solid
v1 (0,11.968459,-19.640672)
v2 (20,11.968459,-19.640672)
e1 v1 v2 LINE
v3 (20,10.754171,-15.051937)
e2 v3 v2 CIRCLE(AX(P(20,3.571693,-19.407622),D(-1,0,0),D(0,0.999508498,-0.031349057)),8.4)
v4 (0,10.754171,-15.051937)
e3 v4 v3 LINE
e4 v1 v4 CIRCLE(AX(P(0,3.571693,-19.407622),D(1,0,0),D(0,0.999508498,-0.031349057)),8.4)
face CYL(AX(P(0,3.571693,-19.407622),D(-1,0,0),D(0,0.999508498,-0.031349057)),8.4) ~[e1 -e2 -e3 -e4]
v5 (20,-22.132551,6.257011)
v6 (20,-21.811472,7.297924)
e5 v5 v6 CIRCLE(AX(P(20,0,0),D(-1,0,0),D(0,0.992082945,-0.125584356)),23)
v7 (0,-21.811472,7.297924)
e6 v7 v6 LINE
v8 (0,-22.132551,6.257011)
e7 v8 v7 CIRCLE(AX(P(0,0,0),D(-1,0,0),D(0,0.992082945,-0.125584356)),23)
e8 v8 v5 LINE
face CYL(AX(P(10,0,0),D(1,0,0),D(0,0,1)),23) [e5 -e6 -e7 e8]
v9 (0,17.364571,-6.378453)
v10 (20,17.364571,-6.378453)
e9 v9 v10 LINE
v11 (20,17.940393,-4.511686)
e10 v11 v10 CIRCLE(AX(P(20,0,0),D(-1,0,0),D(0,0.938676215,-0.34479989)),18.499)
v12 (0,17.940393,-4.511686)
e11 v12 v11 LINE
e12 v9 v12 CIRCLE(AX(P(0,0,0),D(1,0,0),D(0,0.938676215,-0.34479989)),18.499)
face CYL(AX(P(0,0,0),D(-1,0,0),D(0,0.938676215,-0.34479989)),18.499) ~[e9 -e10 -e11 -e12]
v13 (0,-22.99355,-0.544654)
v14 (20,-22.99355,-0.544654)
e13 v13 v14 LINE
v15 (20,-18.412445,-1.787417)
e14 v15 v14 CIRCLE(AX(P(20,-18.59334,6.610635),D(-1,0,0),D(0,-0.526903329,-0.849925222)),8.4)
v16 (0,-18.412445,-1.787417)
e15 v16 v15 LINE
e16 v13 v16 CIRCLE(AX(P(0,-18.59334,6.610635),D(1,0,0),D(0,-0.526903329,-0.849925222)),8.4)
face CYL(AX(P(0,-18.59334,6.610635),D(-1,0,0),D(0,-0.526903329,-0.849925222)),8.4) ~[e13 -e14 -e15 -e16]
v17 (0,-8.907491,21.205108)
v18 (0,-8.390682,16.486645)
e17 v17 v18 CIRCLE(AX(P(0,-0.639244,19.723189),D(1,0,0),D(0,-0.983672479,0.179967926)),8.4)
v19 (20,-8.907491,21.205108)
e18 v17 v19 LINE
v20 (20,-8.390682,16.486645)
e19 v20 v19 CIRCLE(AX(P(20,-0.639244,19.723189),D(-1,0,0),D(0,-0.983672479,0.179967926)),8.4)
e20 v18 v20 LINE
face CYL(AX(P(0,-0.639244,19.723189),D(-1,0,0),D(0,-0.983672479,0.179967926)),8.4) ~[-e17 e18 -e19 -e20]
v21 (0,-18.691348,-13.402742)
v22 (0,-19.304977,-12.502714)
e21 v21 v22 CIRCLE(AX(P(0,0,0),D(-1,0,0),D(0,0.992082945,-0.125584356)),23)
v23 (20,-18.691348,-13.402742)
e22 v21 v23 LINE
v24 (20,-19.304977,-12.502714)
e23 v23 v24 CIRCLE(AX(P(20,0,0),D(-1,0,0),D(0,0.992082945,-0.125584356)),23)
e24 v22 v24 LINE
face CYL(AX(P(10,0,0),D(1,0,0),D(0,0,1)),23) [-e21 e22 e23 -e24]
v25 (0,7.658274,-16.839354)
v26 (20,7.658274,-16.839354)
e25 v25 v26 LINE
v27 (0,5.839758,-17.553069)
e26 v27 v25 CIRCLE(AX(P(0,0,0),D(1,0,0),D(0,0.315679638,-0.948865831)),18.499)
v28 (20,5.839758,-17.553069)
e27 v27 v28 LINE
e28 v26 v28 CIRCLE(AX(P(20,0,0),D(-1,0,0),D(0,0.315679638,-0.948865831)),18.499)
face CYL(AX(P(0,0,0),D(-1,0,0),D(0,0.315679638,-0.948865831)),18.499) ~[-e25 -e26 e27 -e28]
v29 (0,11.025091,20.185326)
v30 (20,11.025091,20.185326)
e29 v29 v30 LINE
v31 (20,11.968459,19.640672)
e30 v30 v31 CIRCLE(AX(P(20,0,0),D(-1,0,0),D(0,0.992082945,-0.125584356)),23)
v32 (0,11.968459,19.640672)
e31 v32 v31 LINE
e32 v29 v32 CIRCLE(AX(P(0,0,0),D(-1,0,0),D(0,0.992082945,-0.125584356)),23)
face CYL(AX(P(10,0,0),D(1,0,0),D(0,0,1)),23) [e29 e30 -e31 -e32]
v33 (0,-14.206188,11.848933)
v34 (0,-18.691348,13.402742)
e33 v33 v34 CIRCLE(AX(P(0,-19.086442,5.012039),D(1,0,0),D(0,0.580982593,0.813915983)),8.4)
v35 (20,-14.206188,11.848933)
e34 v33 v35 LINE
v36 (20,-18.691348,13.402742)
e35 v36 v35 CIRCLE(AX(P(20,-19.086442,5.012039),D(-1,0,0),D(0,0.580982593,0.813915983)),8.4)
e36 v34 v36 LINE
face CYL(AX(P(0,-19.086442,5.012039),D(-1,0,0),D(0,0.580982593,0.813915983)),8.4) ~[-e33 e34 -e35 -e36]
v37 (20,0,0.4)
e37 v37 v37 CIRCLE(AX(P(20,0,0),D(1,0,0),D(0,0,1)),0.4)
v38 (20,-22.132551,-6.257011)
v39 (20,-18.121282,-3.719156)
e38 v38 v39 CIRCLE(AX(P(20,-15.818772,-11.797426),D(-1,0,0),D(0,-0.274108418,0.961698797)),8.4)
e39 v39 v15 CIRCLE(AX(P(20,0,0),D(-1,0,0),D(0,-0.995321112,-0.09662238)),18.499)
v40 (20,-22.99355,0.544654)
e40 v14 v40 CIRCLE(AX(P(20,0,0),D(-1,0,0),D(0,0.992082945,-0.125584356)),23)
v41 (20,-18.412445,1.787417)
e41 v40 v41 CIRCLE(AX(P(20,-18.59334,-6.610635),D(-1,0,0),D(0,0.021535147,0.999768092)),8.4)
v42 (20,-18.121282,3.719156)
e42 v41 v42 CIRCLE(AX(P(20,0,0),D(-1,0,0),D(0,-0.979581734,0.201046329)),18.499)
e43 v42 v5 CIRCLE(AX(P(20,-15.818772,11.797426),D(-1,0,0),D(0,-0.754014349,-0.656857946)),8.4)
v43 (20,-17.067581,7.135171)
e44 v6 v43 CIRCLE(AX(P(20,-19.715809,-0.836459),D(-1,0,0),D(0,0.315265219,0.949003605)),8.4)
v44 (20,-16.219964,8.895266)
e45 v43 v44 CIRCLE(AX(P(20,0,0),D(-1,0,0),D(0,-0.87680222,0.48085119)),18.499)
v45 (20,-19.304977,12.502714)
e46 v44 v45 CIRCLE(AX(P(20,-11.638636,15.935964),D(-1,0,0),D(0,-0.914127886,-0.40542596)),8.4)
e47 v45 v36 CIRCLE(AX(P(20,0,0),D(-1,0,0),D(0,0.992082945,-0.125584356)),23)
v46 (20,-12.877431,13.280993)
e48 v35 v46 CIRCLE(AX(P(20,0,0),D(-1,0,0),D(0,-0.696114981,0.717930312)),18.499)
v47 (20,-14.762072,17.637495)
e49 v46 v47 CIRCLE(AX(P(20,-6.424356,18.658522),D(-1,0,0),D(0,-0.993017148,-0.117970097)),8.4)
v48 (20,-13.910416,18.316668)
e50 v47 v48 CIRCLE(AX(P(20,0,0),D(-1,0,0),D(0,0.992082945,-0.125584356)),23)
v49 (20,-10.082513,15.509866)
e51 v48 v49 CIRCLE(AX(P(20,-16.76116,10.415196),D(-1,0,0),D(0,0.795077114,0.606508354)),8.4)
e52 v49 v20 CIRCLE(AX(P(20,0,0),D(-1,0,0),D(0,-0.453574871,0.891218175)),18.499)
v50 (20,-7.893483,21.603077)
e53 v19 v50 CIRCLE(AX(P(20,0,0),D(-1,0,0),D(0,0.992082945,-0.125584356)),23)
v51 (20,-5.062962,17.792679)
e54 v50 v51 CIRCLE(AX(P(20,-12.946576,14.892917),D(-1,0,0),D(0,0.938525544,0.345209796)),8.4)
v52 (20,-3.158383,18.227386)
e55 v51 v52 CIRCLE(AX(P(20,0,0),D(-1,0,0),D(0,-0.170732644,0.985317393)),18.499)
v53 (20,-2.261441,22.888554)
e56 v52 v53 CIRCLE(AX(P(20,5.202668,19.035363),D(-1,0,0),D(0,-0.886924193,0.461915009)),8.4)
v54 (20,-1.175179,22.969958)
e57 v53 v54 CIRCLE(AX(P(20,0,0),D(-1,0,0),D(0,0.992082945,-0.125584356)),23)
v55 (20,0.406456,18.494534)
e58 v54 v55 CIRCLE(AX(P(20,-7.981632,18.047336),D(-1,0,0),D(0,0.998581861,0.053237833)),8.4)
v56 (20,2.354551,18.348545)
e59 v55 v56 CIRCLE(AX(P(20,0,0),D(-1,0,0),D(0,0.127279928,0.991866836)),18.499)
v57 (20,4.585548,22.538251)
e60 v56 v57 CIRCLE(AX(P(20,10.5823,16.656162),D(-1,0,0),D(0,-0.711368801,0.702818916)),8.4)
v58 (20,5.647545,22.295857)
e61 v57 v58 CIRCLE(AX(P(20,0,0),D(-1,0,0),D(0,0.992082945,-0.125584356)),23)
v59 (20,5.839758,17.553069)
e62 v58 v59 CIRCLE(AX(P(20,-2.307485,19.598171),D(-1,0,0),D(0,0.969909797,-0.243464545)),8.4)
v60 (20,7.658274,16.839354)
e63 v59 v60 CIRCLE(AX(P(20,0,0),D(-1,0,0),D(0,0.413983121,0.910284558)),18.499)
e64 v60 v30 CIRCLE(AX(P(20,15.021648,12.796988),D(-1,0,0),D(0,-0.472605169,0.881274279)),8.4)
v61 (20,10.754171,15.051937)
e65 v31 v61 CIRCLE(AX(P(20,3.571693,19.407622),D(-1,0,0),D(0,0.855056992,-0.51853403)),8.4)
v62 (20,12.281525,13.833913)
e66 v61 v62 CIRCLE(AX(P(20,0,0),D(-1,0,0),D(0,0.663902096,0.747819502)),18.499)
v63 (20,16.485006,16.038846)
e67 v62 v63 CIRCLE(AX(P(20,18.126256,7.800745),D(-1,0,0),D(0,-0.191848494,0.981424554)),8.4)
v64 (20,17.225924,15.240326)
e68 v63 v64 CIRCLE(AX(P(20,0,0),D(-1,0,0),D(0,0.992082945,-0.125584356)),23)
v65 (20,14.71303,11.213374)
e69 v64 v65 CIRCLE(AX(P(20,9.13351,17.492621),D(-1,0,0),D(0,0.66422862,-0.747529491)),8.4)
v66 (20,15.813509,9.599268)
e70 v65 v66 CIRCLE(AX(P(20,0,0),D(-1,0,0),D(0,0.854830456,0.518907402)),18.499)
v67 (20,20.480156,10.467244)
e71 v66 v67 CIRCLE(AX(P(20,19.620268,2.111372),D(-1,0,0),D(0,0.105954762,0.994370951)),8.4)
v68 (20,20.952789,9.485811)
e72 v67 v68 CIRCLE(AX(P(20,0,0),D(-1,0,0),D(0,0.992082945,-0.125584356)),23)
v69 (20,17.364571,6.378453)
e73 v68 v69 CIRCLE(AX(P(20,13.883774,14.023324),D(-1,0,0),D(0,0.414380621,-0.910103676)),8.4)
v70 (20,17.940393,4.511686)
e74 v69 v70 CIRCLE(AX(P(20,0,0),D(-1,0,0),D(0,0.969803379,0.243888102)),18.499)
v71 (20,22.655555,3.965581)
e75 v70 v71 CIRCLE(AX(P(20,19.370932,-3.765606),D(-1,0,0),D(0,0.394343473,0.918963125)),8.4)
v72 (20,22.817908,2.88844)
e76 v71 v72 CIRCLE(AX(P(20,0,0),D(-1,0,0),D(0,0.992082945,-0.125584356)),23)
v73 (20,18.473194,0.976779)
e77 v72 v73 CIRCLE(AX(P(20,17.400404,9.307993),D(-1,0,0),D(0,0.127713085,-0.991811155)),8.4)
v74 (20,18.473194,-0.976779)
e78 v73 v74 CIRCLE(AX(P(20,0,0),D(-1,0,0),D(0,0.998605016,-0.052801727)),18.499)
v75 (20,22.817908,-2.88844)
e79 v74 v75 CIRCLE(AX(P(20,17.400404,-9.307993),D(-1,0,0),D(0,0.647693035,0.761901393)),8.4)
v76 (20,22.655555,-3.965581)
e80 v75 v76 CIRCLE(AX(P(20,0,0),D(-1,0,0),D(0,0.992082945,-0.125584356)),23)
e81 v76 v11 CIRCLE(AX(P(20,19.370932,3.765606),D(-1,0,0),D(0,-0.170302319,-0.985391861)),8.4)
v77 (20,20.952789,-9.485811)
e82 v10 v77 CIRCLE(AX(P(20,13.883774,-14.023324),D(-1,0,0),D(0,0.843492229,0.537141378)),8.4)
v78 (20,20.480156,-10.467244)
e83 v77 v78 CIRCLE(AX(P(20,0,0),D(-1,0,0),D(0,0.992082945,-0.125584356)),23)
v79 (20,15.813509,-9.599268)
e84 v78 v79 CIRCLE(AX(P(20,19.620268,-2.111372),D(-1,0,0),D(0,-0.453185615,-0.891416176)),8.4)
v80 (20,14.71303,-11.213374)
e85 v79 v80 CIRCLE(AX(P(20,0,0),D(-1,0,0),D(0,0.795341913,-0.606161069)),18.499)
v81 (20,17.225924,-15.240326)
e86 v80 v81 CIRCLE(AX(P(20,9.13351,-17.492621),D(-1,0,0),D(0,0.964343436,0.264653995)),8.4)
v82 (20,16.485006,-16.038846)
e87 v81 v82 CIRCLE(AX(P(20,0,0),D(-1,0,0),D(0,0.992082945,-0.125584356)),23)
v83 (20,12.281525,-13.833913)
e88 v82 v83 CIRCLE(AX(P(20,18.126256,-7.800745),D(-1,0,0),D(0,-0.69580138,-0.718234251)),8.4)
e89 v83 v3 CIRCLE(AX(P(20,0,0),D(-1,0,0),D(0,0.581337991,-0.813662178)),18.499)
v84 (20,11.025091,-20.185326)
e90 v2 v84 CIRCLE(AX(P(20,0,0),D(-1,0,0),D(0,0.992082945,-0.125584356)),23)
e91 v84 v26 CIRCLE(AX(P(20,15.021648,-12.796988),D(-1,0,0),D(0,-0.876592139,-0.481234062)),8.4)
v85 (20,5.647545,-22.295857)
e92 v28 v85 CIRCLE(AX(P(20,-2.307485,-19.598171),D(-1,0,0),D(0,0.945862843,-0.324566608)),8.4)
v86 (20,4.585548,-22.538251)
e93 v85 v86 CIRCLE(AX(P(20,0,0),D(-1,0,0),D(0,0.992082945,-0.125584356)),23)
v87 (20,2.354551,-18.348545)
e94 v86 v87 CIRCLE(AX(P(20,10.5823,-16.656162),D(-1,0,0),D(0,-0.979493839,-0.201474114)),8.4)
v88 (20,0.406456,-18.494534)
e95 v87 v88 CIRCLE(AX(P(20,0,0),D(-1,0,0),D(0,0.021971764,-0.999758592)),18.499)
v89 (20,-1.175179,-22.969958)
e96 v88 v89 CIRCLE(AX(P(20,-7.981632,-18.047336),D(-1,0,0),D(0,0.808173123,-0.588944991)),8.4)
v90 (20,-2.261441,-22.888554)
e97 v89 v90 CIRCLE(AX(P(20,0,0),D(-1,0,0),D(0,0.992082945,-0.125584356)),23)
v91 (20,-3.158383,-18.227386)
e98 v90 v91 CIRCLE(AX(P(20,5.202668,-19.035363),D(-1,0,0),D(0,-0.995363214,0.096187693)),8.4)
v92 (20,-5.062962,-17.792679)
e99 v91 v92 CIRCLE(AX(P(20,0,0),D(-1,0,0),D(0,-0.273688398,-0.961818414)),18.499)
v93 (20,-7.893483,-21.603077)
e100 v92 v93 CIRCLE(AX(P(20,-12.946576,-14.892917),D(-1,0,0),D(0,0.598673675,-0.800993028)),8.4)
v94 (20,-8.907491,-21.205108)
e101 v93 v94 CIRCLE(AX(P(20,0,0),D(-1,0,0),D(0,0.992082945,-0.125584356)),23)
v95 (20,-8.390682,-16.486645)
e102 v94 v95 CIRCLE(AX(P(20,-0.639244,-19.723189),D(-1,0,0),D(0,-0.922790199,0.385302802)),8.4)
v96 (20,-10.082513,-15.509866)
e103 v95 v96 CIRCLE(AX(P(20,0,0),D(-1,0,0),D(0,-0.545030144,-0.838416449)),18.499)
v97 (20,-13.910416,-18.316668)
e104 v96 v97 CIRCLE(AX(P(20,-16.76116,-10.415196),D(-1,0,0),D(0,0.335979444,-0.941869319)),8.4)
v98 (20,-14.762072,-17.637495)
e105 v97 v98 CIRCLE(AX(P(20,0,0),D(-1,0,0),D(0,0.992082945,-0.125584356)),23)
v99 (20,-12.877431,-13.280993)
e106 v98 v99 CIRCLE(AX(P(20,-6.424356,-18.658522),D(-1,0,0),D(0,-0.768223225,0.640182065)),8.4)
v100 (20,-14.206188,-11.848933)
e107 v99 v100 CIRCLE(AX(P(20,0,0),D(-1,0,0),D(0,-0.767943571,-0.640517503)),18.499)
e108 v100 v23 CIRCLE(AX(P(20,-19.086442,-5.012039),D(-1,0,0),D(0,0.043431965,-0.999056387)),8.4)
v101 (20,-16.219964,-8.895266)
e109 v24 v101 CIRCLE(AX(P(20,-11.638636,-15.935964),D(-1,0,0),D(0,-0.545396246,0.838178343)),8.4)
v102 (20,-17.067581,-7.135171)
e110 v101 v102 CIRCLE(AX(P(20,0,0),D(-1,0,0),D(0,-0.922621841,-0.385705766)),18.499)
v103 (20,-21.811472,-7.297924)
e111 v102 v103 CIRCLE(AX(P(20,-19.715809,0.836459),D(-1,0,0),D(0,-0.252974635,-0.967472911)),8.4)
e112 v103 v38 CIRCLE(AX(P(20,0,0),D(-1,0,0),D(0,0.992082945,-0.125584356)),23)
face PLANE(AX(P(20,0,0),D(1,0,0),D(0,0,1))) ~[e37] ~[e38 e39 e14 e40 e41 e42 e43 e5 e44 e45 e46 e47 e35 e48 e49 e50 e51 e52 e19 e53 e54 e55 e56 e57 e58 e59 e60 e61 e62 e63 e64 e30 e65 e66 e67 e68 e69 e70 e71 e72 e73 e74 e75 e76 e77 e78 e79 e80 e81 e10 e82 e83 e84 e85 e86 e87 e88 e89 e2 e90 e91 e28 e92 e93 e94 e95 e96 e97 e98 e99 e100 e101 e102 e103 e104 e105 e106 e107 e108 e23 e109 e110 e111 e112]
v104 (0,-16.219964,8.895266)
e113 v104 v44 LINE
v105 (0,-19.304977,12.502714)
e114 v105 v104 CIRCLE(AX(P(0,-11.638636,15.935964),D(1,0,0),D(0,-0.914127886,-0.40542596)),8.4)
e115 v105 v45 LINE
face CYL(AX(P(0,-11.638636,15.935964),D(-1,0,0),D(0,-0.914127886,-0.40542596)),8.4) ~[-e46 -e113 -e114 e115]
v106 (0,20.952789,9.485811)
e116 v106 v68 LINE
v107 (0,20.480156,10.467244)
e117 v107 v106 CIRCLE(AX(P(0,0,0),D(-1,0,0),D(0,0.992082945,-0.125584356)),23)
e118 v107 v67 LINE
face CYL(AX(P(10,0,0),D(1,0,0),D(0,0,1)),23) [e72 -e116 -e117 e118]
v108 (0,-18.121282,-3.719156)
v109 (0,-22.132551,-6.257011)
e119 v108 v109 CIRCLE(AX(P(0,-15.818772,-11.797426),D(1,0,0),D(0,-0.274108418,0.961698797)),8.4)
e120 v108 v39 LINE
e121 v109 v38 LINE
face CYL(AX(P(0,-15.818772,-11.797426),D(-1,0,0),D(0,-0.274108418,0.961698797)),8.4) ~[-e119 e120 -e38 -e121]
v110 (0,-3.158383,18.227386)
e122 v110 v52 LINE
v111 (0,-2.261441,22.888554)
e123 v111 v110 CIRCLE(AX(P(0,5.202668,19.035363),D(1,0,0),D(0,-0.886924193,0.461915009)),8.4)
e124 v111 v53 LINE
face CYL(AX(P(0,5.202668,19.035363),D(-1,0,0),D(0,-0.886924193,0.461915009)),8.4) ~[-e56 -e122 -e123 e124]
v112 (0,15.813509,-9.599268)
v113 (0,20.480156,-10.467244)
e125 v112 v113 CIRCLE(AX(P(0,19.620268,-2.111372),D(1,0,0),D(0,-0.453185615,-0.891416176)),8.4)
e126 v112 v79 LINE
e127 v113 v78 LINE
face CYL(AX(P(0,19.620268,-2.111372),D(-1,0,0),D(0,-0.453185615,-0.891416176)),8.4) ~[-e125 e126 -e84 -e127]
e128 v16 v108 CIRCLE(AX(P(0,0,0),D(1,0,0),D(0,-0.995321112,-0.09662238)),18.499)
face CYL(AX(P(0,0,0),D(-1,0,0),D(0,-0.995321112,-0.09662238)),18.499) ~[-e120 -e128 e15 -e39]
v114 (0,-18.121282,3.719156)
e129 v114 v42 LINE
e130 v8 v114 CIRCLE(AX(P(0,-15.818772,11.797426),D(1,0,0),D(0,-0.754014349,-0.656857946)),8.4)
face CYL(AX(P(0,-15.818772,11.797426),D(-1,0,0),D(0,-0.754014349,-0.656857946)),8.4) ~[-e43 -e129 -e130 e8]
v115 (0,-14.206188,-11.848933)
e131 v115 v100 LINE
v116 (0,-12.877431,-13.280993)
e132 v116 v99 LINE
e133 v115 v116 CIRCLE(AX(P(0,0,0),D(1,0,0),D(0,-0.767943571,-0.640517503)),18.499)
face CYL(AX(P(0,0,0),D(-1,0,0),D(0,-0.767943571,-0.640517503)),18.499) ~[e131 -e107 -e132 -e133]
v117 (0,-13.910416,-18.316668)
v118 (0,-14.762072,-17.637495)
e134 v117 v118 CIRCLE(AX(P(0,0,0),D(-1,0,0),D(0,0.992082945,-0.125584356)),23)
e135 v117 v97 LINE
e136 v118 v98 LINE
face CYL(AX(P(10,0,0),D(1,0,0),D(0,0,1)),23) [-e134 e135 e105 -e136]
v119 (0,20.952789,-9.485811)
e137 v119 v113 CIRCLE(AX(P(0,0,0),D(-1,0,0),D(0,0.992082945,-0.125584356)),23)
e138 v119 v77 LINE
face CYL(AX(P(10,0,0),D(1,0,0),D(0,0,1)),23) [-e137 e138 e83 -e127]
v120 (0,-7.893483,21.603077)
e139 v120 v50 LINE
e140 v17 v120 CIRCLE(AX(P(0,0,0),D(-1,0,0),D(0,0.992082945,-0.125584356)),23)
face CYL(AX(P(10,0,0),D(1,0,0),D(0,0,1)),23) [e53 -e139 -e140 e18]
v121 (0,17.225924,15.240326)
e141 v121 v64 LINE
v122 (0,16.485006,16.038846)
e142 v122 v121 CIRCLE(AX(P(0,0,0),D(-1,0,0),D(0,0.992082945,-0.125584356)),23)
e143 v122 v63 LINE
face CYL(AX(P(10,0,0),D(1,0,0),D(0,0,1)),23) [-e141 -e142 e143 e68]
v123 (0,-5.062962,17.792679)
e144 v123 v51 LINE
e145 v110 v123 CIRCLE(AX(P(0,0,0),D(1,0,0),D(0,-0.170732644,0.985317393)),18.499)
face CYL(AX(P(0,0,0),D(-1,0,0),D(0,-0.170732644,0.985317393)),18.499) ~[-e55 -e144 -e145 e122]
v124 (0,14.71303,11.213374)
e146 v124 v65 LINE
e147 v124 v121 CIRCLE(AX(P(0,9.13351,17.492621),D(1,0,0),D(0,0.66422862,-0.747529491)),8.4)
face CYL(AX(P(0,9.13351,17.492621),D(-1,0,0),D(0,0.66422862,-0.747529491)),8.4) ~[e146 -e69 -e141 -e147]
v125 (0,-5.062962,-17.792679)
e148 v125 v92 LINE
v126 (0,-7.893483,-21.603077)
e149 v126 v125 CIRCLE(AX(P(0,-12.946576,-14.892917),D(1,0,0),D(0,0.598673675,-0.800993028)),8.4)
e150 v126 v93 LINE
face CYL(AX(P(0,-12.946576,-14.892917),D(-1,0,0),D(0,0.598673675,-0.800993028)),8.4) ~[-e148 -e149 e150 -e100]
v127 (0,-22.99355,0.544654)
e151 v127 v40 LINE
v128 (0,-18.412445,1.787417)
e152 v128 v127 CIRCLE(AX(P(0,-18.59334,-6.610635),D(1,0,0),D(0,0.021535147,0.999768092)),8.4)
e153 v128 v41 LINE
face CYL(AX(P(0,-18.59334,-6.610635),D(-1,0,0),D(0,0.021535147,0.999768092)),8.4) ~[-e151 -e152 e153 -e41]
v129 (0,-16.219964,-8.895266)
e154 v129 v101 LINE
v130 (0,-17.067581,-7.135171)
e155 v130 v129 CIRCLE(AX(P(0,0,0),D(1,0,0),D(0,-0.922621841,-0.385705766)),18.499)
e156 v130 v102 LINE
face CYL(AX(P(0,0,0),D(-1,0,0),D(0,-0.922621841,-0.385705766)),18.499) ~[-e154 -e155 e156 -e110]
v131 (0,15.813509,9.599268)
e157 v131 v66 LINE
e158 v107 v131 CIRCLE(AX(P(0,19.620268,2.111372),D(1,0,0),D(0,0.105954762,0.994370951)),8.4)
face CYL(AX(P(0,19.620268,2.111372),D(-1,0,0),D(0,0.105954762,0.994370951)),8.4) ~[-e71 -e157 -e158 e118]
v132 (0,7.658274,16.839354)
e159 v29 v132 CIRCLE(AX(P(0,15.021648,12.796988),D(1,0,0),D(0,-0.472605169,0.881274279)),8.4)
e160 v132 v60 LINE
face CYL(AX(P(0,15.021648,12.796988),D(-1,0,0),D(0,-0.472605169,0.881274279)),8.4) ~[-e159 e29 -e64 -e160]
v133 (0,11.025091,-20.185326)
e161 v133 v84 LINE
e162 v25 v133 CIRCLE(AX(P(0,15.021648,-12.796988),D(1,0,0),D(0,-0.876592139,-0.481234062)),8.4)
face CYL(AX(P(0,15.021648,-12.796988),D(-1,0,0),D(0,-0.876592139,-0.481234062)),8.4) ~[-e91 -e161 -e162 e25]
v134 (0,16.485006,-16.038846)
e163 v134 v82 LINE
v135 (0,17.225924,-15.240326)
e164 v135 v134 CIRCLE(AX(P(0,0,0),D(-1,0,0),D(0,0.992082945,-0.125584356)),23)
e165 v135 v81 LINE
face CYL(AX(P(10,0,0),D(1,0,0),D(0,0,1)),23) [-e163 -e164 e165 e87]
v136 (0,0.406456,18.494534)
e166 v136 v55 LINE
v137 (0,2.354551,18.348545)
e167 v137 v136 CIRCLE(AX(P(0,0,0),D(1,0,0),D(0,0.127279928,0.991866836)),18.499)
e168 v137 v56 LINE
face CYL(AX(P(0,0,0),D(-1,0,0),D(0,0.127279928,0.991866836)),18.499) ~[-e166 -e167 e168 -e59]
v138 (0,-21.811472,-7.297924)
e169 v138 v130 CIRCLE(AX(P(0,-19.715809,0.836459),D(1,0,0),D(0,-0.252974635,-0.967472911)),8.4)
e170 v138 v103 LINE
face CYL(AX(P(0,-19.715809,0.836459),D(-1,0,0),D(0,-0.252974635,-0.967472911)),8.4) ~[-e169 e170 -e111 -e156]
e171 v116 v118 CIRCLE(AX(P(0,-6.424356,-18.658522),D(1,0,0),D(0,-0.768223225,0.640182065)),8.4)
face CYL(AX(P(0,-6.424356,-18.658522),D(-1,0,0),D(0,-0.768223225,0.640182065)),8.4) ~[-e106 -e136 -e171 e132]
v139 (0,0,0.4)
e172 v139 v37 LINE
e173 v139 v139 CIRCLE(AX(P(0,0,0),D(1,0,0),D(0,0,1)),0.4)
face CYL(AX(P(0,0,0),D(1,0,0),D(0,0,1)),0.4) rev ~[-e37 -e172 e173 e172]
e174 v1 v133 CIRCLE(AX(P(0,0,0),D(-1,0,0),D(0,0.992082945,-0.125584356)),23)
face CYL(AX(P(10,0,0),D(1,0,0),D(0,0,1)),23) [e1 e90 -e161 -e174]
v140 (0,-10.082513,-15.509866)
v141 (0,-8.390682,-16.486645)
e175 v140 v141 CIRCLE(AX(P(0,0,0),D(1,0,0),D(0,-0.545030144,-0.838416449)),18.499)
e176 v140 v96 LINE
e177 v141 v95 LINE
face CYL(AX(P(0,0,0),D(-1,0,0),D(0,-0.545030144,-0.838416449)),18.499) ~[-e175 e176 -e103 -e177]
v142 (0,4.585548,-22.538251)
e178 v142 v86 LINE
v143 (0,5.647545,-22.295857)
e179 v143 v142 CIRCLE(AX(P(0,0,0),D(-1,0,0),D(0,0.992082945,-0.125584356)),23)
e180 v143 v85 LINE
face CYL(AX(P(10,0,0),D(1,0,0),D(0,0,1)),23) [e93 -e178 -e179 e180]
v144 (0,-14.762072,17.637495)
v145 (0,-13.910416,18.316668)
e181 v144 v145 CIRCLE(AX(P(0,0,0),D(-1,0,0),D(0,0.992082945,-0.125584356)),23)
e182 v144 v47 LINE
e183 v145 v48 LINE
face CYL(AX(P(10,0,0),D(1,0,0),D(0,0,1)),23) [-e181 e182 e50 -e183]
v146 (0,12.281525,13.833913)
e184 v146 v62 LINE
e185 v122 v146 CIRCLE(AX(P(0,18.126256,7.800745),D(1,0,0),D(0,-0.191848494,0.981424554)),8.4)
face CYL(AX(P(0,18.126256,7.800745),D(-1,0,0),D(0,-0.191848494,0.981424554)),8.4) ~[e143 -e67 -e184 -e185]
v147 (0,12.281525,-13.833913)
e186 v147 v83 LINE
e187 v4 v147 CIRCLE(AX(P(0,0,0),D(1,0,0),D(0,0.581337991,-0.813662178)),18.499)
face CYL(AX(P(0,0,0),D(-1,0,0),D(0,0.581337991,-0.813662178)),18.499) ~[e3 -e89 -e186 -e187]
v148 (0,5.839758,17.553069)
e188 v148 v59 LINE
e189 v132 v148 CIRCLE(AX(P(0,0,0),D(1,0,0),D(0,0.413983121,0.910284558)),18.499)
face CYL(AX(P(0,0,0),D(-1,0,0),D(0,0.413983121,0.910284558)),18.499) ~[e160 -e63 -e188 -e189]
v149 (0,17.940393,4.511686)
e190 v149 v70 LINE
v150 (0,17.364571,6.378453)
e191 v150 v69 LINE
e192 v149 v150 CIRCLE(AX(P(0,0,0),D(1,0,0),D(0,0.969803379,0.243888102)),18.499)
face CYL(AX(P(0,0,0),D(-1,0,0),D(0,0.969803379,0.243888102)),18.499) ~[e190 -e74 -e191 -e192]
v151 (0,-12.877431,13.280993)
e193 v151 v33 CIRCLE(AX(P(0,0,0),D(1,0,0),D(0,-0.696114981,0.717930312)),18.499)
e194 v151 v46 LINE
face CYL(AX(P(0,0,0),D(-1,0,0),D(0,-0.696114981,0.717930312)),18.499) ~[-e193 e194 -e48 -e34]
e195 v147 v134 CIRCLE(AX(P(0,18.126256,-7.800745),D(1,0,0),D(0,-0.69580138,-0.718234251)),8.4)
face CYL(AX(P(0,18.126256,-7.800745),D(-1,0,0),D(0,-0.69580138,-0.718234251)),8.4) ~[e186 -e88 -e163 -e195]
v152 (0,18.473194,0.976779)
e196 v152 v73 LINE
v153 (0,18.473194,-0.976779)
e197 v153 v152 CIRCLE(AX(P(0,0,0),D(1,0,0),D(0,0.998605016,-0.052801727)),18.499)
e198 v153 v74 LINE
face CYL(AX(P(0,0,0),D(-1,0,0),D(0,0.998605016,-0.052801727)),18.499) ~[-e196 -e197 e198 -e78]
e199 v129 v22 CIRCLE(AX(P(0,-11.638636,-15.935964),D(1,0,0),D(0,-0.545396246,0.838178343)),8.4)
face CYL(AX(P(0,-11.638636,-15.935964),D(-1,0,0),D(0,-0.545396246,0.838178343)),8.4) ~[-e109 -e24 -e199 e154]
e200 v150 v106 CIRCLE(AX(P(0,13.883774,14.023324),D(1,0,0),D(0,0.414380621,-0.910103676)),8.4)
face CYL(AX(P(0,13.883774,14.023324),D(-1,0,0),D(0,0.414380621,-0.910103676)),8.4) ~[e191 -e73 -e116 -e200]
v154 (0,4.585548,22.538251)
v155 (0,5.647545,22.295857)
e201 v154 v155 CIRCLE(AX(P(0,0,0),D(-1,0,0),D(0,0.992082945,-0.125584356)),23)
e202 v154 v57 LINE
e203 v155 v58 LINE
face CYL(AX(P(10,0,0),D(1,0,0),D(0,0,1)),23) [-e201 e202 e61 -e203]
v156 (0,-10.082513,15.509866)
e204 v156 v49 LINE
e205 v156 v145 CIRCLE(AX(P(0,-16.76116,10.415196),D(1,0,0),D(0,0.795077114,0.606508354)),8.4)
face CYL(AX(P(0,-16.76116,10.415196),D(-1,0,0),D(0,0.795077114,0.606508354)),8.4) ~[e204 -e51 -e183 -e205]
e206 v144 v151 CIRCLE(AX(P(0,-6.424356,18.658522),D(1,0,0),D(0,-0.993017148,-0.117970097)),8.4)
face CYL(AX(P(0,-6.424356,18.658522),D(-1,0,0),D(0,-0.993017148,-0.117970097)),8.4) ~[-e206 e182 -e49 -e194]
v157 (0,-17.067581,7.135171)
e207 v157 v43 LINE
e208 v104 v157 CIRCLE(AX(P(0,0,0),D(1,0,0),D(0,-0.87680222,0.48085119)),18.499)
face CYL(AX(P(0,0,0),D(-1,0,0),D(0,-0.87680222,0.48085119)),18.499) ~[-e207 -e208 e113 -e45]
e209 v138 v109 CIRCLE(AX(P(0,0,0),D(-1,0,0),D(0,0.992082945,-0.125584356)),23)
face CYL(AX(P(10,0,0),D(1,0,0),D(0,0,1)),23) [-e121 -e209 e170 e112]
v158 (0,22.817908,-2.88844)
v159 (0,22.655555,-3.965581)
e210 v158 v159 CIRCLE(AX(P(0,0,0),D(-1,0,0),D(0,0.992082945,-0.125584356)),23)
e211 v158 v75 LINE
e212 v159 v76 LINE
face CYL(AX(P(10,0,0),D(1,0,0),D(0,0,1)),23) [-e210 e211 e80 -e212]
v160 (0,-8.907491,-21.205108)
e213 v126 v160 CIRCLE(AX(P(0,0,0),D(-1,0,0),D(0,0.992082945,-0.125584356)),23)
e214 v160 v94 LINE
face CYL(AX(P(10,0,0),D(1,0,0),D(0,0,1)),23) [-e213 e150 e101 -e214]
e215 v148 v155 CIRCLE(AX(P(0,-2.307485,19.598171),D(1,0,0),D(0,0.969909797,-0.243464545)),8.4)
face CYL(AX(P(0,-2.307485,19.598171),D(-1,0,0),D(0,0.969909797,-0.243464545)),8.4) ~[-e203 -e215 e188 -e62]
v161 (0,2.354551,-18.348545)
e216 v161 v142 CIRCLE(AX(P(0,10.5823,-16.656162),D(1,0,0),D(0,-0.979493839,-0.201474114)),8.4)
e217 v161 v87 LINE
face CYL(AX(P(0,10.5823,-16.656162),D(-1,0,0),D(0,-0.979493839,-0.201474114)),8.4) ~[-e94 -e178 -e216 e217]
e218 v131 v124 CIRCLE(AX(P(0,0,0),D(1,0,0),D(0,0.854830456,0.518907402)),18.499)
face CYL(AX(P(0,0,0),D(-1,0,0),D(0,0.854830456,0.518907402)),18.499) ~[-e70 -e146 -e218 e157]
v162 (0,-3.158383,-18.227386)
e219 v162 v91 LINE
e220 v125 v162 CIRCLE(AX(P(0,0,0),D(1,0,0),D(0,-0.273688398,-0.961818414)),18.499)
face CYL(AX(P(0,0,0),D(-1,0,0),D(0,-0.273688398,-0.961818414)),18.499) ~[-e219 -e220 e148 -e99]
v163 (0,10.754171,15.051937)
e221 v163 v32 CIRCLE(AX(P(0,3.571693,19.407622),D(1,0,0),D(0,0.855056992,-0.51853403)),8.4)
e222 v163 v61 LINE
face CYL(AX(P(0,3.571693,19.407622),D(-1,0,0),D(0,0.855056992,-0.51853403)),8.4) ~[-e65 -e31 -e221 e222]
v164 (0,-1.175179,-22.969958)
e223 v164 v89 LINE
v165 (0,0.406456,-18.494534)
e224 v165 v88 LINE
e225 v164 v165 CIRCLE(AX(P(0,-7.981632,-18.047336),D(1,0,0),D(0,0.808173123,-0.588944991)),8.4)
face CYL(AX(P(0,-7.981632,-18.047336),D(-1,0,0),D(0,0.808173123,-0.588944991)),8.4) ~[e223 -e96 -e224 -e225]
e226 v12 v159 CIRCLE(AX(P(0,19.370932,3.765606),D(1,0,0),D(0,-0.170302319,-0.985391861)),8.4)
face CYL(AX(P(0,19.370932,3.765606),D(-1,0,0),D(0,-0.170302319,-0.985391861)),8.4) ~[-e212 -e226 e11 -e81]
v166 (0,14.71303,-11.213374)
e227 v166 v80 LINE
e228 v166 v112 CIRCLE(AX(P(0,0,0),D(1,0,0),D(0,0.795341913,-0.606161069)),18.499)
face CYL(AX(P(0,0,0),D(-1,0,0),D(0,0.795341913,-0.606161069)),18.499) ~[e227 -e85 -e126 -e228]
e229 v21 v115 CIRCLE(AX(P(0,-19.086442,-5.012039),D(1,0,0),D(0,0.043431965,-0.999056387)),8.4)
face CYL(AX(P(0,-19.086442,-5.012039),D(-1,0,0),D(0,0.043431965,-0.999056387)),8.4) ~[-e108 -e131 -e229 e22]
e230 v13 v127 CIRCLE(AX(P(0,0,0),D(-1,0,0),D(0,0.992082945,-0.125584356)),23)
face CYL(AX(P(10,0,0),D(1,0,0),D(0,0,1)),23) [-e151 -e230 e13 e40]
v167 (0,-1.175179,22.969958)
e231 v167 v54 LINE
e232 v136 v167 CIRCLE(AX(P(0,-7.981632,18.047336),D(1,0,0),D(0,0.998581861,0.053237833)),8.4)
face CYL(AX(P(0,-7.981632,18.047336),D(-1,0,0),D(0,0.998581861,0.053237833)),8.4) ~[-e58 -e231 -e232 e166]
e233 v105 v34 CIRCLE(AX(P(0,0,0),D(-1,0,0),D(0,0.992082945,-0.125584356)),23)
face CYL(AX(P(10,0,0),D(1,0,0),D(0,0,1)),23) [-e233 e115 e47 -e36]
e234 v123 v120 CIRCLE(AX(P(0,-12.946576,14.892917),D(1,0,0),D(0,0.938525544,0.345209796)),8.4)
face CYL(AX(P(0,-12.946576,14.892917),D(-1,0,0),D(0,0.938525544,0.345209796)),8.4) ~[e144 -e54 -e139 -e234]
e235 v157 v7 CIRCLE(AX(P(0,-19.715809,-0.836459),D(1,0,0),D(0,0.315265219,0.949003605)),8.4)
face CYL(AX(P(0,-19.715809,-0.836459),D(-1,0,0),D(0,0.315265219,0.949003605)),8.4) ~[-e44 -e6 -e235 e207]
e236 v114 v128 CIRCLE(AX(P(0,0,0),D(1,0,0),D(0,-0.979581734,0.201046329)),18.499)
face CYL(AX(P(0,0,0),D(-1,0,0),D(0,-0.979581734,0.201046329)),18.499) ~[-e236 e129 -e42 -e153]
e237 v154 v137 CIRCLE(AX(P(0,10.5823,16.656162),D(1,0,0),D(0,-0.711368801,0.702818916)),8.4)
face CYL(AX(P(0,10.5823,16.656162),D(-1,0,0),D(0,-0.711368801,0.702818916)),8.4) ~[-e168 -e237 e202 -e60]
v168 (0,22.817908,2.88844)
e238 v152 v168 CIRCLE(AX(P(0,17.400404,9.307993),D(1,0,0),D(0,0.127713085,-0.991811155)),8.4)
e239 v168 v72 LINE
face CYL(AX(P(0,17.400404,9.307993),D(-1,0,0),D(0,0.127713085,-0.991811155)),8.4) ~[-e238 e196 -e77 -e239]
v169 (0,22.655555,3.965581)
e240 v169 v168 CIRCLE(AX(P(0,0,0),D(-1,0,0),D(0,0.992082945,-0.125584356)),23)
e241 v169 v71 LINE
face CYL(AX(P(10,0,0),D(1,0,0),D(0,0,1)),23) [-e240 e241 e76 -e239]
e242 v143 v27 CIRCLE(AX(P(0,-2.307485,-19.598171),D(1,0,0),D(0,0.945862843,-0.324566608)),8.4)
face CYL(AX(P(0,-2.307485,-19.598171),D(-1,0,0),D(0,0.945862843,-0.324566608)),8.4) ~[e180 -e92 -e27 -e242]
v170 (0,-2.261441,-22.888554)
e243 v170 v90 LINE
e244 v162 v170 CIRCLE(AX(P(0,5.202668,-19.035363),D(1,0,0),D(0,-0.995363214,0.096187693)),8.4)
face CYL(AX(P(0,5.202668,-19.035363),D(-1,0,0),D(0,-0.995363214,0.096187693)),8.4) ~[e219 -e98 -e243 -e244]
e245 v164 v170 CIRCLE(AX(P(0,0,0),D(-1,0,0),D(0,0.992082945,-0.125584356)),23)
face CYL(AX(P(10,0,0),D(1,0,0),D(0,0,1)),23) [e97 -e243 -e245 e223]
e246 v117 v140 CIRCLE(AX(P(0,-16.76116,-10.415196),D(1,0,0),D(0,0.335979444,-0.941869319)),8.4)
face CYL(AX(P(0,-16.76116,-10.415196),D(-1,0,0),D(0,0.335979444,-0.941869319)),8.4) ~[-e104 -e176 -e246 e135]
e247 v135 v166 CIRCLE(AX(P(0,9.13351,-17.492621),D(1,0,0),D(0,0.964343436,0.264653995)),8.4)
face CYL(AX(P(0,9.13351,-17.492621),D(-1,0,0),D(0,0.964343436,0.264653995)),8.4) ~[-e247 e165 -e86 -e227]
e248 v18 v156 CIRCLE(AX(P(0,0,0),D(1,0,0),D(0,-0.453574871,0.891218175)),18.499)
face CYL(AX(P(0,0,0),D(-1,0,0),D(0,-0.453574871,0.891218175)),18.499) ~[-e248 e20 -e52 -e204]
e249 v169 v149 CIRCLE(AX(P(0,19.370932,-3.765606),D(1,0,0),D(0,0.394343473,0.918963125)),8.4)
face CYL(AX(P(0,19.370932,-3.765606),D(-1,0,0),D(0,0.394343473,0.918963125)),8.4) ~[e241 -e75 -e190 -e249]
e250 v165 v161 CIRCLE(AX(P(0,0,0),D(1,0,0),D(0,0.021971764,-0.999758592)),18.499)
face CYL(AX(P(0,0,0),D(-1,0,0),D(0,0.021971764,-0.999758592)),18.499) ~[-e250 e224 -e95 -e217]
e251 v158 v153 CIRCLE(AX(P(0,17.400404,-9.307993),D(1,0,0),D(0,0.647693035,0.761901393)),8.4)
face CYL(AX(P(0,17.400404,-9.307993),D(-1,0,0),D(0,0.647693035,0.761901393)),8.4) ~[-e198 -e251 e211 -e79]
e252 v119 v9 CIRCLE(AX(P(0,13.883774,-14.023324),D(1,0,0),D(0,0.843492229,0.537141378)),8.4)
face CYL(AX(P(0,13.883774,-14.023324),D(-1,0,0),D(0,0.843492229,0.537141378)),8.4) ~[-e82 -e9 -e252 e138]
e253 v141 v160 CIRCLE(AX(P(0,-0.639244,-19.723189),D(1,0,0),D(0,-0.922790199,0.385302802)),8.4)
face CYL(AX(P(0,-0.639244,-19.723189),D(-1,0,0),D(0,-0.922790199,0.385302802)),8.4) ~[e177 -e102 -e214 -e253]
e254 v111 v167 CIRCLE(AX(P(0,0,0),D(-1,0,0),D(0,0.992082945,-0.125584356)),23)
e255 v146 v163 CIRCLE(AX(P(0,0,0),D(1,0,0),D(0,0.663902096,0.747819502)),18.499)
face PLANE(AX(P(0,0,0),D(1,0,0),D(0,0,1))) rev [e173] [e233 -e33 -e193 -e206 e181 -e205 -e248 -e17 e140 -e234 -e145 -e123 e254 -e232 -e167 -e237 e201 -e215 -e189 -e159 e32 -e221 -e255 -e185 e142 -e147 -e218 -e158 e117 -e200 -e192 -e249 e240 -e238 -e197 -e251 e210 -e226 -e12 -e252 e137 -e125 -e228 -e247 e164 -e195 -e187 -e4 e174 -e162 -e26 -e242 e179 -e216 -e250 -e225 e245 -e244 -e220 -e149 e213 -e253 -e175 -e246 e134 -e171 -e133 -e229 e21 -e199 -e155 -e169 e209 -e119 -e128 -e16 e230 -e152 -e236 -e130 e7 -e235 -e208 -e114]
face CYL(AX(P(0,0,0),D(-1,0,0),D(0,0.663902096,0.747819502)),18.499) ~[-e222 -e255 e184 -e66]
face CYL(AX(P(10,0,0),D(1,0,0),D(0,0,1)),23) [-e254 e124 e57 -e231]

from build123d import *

# Parameters (mm, degrees)
BASPROSKE_W     = 20
BASPROSKE_H     = 23
TOOTHCUT_DEPTH  = 39.183766184
TEETHCUTS_COUNT = 21
TEETHCUTS_ANGLE = 342.857142857
BORSKE_R        = 0.4
BORE_DEPTH      = 50.0000508


with BuildPart() as part:
    # BasProSke → Base-Revolve (revolve)
    with BuildSketch(Plane(origin=(0, 0, 0), x_dir=(1, 0, 0), z_dir=(0, 1, 0)), mode=Mode.PRIVATE) as base_revolve_sk:
        with Locations((10, 11.5)):
            Rectangle(BASPROSKE_W, BASPROSKE_H)
    revolve(base_revolve_sk.sketch.rotate(Axis((-10, 0, 0), (1, 0, 0)), 180), axis=Axis((-10, 0, 0), (1, 0, 0)))

    # TooCutSke → ToothCut (cut, through all)
    with BuildSketch(Plane(origin=(0, 0, 0), x_dir=(0, 0, -1), z_dir=(1, 0, 0))):
        with BuildLine():
            ThreePointArc((0.976779145, 18.473194188), (0, 18.499), (-0.976779145, 18.473194188))
            ThreePointArc((-0.976779145, 18.473194188), (-1.625451341, 20.797249275), (-2.90802115, 22.841025768))
            ThreePointArc((-2.90802115, 22.841025768), (0, 23.0254), (2.90802115, 22.841025768))
            ThreePointArc((2.90802115, 22.841025768), (1.625451341, 20.797249275), (0.976779145, 18.473194188))
        make_face()
    toothcut = extrude(amount=TOOTHCUT_DEPTH, mode=Mode.SUBTRACT)

    # TeethCuts: ToothCut ×21 about axis
    teethcuts_axis = Axis((-10, 0, 0), (1, 0, 0))
    for i in range(1, TEETHCUTS_COUNT):
        add(toothcut.rotate(teethcuts_axis, i * TEETHCUTS_ANGLE / (TEETHCUTS_COUNT - 1)), mode=Mode.SUBTRACT)

    # BorSke → Bore (cut, symmetric)
    with BuildSketch(Plane(origin=(0, 0, 0), x_dir=(0, 0, -1), z_dir=(1, 0, 0))):
        with Locations(Location((0, 0, 0), (0, 0, 180))):
            Circle(BORSKE_R)
    extrude(amount=BORE_DEPTH, both=True, mode=Mode.SUBTRACT)


solid = part.part
